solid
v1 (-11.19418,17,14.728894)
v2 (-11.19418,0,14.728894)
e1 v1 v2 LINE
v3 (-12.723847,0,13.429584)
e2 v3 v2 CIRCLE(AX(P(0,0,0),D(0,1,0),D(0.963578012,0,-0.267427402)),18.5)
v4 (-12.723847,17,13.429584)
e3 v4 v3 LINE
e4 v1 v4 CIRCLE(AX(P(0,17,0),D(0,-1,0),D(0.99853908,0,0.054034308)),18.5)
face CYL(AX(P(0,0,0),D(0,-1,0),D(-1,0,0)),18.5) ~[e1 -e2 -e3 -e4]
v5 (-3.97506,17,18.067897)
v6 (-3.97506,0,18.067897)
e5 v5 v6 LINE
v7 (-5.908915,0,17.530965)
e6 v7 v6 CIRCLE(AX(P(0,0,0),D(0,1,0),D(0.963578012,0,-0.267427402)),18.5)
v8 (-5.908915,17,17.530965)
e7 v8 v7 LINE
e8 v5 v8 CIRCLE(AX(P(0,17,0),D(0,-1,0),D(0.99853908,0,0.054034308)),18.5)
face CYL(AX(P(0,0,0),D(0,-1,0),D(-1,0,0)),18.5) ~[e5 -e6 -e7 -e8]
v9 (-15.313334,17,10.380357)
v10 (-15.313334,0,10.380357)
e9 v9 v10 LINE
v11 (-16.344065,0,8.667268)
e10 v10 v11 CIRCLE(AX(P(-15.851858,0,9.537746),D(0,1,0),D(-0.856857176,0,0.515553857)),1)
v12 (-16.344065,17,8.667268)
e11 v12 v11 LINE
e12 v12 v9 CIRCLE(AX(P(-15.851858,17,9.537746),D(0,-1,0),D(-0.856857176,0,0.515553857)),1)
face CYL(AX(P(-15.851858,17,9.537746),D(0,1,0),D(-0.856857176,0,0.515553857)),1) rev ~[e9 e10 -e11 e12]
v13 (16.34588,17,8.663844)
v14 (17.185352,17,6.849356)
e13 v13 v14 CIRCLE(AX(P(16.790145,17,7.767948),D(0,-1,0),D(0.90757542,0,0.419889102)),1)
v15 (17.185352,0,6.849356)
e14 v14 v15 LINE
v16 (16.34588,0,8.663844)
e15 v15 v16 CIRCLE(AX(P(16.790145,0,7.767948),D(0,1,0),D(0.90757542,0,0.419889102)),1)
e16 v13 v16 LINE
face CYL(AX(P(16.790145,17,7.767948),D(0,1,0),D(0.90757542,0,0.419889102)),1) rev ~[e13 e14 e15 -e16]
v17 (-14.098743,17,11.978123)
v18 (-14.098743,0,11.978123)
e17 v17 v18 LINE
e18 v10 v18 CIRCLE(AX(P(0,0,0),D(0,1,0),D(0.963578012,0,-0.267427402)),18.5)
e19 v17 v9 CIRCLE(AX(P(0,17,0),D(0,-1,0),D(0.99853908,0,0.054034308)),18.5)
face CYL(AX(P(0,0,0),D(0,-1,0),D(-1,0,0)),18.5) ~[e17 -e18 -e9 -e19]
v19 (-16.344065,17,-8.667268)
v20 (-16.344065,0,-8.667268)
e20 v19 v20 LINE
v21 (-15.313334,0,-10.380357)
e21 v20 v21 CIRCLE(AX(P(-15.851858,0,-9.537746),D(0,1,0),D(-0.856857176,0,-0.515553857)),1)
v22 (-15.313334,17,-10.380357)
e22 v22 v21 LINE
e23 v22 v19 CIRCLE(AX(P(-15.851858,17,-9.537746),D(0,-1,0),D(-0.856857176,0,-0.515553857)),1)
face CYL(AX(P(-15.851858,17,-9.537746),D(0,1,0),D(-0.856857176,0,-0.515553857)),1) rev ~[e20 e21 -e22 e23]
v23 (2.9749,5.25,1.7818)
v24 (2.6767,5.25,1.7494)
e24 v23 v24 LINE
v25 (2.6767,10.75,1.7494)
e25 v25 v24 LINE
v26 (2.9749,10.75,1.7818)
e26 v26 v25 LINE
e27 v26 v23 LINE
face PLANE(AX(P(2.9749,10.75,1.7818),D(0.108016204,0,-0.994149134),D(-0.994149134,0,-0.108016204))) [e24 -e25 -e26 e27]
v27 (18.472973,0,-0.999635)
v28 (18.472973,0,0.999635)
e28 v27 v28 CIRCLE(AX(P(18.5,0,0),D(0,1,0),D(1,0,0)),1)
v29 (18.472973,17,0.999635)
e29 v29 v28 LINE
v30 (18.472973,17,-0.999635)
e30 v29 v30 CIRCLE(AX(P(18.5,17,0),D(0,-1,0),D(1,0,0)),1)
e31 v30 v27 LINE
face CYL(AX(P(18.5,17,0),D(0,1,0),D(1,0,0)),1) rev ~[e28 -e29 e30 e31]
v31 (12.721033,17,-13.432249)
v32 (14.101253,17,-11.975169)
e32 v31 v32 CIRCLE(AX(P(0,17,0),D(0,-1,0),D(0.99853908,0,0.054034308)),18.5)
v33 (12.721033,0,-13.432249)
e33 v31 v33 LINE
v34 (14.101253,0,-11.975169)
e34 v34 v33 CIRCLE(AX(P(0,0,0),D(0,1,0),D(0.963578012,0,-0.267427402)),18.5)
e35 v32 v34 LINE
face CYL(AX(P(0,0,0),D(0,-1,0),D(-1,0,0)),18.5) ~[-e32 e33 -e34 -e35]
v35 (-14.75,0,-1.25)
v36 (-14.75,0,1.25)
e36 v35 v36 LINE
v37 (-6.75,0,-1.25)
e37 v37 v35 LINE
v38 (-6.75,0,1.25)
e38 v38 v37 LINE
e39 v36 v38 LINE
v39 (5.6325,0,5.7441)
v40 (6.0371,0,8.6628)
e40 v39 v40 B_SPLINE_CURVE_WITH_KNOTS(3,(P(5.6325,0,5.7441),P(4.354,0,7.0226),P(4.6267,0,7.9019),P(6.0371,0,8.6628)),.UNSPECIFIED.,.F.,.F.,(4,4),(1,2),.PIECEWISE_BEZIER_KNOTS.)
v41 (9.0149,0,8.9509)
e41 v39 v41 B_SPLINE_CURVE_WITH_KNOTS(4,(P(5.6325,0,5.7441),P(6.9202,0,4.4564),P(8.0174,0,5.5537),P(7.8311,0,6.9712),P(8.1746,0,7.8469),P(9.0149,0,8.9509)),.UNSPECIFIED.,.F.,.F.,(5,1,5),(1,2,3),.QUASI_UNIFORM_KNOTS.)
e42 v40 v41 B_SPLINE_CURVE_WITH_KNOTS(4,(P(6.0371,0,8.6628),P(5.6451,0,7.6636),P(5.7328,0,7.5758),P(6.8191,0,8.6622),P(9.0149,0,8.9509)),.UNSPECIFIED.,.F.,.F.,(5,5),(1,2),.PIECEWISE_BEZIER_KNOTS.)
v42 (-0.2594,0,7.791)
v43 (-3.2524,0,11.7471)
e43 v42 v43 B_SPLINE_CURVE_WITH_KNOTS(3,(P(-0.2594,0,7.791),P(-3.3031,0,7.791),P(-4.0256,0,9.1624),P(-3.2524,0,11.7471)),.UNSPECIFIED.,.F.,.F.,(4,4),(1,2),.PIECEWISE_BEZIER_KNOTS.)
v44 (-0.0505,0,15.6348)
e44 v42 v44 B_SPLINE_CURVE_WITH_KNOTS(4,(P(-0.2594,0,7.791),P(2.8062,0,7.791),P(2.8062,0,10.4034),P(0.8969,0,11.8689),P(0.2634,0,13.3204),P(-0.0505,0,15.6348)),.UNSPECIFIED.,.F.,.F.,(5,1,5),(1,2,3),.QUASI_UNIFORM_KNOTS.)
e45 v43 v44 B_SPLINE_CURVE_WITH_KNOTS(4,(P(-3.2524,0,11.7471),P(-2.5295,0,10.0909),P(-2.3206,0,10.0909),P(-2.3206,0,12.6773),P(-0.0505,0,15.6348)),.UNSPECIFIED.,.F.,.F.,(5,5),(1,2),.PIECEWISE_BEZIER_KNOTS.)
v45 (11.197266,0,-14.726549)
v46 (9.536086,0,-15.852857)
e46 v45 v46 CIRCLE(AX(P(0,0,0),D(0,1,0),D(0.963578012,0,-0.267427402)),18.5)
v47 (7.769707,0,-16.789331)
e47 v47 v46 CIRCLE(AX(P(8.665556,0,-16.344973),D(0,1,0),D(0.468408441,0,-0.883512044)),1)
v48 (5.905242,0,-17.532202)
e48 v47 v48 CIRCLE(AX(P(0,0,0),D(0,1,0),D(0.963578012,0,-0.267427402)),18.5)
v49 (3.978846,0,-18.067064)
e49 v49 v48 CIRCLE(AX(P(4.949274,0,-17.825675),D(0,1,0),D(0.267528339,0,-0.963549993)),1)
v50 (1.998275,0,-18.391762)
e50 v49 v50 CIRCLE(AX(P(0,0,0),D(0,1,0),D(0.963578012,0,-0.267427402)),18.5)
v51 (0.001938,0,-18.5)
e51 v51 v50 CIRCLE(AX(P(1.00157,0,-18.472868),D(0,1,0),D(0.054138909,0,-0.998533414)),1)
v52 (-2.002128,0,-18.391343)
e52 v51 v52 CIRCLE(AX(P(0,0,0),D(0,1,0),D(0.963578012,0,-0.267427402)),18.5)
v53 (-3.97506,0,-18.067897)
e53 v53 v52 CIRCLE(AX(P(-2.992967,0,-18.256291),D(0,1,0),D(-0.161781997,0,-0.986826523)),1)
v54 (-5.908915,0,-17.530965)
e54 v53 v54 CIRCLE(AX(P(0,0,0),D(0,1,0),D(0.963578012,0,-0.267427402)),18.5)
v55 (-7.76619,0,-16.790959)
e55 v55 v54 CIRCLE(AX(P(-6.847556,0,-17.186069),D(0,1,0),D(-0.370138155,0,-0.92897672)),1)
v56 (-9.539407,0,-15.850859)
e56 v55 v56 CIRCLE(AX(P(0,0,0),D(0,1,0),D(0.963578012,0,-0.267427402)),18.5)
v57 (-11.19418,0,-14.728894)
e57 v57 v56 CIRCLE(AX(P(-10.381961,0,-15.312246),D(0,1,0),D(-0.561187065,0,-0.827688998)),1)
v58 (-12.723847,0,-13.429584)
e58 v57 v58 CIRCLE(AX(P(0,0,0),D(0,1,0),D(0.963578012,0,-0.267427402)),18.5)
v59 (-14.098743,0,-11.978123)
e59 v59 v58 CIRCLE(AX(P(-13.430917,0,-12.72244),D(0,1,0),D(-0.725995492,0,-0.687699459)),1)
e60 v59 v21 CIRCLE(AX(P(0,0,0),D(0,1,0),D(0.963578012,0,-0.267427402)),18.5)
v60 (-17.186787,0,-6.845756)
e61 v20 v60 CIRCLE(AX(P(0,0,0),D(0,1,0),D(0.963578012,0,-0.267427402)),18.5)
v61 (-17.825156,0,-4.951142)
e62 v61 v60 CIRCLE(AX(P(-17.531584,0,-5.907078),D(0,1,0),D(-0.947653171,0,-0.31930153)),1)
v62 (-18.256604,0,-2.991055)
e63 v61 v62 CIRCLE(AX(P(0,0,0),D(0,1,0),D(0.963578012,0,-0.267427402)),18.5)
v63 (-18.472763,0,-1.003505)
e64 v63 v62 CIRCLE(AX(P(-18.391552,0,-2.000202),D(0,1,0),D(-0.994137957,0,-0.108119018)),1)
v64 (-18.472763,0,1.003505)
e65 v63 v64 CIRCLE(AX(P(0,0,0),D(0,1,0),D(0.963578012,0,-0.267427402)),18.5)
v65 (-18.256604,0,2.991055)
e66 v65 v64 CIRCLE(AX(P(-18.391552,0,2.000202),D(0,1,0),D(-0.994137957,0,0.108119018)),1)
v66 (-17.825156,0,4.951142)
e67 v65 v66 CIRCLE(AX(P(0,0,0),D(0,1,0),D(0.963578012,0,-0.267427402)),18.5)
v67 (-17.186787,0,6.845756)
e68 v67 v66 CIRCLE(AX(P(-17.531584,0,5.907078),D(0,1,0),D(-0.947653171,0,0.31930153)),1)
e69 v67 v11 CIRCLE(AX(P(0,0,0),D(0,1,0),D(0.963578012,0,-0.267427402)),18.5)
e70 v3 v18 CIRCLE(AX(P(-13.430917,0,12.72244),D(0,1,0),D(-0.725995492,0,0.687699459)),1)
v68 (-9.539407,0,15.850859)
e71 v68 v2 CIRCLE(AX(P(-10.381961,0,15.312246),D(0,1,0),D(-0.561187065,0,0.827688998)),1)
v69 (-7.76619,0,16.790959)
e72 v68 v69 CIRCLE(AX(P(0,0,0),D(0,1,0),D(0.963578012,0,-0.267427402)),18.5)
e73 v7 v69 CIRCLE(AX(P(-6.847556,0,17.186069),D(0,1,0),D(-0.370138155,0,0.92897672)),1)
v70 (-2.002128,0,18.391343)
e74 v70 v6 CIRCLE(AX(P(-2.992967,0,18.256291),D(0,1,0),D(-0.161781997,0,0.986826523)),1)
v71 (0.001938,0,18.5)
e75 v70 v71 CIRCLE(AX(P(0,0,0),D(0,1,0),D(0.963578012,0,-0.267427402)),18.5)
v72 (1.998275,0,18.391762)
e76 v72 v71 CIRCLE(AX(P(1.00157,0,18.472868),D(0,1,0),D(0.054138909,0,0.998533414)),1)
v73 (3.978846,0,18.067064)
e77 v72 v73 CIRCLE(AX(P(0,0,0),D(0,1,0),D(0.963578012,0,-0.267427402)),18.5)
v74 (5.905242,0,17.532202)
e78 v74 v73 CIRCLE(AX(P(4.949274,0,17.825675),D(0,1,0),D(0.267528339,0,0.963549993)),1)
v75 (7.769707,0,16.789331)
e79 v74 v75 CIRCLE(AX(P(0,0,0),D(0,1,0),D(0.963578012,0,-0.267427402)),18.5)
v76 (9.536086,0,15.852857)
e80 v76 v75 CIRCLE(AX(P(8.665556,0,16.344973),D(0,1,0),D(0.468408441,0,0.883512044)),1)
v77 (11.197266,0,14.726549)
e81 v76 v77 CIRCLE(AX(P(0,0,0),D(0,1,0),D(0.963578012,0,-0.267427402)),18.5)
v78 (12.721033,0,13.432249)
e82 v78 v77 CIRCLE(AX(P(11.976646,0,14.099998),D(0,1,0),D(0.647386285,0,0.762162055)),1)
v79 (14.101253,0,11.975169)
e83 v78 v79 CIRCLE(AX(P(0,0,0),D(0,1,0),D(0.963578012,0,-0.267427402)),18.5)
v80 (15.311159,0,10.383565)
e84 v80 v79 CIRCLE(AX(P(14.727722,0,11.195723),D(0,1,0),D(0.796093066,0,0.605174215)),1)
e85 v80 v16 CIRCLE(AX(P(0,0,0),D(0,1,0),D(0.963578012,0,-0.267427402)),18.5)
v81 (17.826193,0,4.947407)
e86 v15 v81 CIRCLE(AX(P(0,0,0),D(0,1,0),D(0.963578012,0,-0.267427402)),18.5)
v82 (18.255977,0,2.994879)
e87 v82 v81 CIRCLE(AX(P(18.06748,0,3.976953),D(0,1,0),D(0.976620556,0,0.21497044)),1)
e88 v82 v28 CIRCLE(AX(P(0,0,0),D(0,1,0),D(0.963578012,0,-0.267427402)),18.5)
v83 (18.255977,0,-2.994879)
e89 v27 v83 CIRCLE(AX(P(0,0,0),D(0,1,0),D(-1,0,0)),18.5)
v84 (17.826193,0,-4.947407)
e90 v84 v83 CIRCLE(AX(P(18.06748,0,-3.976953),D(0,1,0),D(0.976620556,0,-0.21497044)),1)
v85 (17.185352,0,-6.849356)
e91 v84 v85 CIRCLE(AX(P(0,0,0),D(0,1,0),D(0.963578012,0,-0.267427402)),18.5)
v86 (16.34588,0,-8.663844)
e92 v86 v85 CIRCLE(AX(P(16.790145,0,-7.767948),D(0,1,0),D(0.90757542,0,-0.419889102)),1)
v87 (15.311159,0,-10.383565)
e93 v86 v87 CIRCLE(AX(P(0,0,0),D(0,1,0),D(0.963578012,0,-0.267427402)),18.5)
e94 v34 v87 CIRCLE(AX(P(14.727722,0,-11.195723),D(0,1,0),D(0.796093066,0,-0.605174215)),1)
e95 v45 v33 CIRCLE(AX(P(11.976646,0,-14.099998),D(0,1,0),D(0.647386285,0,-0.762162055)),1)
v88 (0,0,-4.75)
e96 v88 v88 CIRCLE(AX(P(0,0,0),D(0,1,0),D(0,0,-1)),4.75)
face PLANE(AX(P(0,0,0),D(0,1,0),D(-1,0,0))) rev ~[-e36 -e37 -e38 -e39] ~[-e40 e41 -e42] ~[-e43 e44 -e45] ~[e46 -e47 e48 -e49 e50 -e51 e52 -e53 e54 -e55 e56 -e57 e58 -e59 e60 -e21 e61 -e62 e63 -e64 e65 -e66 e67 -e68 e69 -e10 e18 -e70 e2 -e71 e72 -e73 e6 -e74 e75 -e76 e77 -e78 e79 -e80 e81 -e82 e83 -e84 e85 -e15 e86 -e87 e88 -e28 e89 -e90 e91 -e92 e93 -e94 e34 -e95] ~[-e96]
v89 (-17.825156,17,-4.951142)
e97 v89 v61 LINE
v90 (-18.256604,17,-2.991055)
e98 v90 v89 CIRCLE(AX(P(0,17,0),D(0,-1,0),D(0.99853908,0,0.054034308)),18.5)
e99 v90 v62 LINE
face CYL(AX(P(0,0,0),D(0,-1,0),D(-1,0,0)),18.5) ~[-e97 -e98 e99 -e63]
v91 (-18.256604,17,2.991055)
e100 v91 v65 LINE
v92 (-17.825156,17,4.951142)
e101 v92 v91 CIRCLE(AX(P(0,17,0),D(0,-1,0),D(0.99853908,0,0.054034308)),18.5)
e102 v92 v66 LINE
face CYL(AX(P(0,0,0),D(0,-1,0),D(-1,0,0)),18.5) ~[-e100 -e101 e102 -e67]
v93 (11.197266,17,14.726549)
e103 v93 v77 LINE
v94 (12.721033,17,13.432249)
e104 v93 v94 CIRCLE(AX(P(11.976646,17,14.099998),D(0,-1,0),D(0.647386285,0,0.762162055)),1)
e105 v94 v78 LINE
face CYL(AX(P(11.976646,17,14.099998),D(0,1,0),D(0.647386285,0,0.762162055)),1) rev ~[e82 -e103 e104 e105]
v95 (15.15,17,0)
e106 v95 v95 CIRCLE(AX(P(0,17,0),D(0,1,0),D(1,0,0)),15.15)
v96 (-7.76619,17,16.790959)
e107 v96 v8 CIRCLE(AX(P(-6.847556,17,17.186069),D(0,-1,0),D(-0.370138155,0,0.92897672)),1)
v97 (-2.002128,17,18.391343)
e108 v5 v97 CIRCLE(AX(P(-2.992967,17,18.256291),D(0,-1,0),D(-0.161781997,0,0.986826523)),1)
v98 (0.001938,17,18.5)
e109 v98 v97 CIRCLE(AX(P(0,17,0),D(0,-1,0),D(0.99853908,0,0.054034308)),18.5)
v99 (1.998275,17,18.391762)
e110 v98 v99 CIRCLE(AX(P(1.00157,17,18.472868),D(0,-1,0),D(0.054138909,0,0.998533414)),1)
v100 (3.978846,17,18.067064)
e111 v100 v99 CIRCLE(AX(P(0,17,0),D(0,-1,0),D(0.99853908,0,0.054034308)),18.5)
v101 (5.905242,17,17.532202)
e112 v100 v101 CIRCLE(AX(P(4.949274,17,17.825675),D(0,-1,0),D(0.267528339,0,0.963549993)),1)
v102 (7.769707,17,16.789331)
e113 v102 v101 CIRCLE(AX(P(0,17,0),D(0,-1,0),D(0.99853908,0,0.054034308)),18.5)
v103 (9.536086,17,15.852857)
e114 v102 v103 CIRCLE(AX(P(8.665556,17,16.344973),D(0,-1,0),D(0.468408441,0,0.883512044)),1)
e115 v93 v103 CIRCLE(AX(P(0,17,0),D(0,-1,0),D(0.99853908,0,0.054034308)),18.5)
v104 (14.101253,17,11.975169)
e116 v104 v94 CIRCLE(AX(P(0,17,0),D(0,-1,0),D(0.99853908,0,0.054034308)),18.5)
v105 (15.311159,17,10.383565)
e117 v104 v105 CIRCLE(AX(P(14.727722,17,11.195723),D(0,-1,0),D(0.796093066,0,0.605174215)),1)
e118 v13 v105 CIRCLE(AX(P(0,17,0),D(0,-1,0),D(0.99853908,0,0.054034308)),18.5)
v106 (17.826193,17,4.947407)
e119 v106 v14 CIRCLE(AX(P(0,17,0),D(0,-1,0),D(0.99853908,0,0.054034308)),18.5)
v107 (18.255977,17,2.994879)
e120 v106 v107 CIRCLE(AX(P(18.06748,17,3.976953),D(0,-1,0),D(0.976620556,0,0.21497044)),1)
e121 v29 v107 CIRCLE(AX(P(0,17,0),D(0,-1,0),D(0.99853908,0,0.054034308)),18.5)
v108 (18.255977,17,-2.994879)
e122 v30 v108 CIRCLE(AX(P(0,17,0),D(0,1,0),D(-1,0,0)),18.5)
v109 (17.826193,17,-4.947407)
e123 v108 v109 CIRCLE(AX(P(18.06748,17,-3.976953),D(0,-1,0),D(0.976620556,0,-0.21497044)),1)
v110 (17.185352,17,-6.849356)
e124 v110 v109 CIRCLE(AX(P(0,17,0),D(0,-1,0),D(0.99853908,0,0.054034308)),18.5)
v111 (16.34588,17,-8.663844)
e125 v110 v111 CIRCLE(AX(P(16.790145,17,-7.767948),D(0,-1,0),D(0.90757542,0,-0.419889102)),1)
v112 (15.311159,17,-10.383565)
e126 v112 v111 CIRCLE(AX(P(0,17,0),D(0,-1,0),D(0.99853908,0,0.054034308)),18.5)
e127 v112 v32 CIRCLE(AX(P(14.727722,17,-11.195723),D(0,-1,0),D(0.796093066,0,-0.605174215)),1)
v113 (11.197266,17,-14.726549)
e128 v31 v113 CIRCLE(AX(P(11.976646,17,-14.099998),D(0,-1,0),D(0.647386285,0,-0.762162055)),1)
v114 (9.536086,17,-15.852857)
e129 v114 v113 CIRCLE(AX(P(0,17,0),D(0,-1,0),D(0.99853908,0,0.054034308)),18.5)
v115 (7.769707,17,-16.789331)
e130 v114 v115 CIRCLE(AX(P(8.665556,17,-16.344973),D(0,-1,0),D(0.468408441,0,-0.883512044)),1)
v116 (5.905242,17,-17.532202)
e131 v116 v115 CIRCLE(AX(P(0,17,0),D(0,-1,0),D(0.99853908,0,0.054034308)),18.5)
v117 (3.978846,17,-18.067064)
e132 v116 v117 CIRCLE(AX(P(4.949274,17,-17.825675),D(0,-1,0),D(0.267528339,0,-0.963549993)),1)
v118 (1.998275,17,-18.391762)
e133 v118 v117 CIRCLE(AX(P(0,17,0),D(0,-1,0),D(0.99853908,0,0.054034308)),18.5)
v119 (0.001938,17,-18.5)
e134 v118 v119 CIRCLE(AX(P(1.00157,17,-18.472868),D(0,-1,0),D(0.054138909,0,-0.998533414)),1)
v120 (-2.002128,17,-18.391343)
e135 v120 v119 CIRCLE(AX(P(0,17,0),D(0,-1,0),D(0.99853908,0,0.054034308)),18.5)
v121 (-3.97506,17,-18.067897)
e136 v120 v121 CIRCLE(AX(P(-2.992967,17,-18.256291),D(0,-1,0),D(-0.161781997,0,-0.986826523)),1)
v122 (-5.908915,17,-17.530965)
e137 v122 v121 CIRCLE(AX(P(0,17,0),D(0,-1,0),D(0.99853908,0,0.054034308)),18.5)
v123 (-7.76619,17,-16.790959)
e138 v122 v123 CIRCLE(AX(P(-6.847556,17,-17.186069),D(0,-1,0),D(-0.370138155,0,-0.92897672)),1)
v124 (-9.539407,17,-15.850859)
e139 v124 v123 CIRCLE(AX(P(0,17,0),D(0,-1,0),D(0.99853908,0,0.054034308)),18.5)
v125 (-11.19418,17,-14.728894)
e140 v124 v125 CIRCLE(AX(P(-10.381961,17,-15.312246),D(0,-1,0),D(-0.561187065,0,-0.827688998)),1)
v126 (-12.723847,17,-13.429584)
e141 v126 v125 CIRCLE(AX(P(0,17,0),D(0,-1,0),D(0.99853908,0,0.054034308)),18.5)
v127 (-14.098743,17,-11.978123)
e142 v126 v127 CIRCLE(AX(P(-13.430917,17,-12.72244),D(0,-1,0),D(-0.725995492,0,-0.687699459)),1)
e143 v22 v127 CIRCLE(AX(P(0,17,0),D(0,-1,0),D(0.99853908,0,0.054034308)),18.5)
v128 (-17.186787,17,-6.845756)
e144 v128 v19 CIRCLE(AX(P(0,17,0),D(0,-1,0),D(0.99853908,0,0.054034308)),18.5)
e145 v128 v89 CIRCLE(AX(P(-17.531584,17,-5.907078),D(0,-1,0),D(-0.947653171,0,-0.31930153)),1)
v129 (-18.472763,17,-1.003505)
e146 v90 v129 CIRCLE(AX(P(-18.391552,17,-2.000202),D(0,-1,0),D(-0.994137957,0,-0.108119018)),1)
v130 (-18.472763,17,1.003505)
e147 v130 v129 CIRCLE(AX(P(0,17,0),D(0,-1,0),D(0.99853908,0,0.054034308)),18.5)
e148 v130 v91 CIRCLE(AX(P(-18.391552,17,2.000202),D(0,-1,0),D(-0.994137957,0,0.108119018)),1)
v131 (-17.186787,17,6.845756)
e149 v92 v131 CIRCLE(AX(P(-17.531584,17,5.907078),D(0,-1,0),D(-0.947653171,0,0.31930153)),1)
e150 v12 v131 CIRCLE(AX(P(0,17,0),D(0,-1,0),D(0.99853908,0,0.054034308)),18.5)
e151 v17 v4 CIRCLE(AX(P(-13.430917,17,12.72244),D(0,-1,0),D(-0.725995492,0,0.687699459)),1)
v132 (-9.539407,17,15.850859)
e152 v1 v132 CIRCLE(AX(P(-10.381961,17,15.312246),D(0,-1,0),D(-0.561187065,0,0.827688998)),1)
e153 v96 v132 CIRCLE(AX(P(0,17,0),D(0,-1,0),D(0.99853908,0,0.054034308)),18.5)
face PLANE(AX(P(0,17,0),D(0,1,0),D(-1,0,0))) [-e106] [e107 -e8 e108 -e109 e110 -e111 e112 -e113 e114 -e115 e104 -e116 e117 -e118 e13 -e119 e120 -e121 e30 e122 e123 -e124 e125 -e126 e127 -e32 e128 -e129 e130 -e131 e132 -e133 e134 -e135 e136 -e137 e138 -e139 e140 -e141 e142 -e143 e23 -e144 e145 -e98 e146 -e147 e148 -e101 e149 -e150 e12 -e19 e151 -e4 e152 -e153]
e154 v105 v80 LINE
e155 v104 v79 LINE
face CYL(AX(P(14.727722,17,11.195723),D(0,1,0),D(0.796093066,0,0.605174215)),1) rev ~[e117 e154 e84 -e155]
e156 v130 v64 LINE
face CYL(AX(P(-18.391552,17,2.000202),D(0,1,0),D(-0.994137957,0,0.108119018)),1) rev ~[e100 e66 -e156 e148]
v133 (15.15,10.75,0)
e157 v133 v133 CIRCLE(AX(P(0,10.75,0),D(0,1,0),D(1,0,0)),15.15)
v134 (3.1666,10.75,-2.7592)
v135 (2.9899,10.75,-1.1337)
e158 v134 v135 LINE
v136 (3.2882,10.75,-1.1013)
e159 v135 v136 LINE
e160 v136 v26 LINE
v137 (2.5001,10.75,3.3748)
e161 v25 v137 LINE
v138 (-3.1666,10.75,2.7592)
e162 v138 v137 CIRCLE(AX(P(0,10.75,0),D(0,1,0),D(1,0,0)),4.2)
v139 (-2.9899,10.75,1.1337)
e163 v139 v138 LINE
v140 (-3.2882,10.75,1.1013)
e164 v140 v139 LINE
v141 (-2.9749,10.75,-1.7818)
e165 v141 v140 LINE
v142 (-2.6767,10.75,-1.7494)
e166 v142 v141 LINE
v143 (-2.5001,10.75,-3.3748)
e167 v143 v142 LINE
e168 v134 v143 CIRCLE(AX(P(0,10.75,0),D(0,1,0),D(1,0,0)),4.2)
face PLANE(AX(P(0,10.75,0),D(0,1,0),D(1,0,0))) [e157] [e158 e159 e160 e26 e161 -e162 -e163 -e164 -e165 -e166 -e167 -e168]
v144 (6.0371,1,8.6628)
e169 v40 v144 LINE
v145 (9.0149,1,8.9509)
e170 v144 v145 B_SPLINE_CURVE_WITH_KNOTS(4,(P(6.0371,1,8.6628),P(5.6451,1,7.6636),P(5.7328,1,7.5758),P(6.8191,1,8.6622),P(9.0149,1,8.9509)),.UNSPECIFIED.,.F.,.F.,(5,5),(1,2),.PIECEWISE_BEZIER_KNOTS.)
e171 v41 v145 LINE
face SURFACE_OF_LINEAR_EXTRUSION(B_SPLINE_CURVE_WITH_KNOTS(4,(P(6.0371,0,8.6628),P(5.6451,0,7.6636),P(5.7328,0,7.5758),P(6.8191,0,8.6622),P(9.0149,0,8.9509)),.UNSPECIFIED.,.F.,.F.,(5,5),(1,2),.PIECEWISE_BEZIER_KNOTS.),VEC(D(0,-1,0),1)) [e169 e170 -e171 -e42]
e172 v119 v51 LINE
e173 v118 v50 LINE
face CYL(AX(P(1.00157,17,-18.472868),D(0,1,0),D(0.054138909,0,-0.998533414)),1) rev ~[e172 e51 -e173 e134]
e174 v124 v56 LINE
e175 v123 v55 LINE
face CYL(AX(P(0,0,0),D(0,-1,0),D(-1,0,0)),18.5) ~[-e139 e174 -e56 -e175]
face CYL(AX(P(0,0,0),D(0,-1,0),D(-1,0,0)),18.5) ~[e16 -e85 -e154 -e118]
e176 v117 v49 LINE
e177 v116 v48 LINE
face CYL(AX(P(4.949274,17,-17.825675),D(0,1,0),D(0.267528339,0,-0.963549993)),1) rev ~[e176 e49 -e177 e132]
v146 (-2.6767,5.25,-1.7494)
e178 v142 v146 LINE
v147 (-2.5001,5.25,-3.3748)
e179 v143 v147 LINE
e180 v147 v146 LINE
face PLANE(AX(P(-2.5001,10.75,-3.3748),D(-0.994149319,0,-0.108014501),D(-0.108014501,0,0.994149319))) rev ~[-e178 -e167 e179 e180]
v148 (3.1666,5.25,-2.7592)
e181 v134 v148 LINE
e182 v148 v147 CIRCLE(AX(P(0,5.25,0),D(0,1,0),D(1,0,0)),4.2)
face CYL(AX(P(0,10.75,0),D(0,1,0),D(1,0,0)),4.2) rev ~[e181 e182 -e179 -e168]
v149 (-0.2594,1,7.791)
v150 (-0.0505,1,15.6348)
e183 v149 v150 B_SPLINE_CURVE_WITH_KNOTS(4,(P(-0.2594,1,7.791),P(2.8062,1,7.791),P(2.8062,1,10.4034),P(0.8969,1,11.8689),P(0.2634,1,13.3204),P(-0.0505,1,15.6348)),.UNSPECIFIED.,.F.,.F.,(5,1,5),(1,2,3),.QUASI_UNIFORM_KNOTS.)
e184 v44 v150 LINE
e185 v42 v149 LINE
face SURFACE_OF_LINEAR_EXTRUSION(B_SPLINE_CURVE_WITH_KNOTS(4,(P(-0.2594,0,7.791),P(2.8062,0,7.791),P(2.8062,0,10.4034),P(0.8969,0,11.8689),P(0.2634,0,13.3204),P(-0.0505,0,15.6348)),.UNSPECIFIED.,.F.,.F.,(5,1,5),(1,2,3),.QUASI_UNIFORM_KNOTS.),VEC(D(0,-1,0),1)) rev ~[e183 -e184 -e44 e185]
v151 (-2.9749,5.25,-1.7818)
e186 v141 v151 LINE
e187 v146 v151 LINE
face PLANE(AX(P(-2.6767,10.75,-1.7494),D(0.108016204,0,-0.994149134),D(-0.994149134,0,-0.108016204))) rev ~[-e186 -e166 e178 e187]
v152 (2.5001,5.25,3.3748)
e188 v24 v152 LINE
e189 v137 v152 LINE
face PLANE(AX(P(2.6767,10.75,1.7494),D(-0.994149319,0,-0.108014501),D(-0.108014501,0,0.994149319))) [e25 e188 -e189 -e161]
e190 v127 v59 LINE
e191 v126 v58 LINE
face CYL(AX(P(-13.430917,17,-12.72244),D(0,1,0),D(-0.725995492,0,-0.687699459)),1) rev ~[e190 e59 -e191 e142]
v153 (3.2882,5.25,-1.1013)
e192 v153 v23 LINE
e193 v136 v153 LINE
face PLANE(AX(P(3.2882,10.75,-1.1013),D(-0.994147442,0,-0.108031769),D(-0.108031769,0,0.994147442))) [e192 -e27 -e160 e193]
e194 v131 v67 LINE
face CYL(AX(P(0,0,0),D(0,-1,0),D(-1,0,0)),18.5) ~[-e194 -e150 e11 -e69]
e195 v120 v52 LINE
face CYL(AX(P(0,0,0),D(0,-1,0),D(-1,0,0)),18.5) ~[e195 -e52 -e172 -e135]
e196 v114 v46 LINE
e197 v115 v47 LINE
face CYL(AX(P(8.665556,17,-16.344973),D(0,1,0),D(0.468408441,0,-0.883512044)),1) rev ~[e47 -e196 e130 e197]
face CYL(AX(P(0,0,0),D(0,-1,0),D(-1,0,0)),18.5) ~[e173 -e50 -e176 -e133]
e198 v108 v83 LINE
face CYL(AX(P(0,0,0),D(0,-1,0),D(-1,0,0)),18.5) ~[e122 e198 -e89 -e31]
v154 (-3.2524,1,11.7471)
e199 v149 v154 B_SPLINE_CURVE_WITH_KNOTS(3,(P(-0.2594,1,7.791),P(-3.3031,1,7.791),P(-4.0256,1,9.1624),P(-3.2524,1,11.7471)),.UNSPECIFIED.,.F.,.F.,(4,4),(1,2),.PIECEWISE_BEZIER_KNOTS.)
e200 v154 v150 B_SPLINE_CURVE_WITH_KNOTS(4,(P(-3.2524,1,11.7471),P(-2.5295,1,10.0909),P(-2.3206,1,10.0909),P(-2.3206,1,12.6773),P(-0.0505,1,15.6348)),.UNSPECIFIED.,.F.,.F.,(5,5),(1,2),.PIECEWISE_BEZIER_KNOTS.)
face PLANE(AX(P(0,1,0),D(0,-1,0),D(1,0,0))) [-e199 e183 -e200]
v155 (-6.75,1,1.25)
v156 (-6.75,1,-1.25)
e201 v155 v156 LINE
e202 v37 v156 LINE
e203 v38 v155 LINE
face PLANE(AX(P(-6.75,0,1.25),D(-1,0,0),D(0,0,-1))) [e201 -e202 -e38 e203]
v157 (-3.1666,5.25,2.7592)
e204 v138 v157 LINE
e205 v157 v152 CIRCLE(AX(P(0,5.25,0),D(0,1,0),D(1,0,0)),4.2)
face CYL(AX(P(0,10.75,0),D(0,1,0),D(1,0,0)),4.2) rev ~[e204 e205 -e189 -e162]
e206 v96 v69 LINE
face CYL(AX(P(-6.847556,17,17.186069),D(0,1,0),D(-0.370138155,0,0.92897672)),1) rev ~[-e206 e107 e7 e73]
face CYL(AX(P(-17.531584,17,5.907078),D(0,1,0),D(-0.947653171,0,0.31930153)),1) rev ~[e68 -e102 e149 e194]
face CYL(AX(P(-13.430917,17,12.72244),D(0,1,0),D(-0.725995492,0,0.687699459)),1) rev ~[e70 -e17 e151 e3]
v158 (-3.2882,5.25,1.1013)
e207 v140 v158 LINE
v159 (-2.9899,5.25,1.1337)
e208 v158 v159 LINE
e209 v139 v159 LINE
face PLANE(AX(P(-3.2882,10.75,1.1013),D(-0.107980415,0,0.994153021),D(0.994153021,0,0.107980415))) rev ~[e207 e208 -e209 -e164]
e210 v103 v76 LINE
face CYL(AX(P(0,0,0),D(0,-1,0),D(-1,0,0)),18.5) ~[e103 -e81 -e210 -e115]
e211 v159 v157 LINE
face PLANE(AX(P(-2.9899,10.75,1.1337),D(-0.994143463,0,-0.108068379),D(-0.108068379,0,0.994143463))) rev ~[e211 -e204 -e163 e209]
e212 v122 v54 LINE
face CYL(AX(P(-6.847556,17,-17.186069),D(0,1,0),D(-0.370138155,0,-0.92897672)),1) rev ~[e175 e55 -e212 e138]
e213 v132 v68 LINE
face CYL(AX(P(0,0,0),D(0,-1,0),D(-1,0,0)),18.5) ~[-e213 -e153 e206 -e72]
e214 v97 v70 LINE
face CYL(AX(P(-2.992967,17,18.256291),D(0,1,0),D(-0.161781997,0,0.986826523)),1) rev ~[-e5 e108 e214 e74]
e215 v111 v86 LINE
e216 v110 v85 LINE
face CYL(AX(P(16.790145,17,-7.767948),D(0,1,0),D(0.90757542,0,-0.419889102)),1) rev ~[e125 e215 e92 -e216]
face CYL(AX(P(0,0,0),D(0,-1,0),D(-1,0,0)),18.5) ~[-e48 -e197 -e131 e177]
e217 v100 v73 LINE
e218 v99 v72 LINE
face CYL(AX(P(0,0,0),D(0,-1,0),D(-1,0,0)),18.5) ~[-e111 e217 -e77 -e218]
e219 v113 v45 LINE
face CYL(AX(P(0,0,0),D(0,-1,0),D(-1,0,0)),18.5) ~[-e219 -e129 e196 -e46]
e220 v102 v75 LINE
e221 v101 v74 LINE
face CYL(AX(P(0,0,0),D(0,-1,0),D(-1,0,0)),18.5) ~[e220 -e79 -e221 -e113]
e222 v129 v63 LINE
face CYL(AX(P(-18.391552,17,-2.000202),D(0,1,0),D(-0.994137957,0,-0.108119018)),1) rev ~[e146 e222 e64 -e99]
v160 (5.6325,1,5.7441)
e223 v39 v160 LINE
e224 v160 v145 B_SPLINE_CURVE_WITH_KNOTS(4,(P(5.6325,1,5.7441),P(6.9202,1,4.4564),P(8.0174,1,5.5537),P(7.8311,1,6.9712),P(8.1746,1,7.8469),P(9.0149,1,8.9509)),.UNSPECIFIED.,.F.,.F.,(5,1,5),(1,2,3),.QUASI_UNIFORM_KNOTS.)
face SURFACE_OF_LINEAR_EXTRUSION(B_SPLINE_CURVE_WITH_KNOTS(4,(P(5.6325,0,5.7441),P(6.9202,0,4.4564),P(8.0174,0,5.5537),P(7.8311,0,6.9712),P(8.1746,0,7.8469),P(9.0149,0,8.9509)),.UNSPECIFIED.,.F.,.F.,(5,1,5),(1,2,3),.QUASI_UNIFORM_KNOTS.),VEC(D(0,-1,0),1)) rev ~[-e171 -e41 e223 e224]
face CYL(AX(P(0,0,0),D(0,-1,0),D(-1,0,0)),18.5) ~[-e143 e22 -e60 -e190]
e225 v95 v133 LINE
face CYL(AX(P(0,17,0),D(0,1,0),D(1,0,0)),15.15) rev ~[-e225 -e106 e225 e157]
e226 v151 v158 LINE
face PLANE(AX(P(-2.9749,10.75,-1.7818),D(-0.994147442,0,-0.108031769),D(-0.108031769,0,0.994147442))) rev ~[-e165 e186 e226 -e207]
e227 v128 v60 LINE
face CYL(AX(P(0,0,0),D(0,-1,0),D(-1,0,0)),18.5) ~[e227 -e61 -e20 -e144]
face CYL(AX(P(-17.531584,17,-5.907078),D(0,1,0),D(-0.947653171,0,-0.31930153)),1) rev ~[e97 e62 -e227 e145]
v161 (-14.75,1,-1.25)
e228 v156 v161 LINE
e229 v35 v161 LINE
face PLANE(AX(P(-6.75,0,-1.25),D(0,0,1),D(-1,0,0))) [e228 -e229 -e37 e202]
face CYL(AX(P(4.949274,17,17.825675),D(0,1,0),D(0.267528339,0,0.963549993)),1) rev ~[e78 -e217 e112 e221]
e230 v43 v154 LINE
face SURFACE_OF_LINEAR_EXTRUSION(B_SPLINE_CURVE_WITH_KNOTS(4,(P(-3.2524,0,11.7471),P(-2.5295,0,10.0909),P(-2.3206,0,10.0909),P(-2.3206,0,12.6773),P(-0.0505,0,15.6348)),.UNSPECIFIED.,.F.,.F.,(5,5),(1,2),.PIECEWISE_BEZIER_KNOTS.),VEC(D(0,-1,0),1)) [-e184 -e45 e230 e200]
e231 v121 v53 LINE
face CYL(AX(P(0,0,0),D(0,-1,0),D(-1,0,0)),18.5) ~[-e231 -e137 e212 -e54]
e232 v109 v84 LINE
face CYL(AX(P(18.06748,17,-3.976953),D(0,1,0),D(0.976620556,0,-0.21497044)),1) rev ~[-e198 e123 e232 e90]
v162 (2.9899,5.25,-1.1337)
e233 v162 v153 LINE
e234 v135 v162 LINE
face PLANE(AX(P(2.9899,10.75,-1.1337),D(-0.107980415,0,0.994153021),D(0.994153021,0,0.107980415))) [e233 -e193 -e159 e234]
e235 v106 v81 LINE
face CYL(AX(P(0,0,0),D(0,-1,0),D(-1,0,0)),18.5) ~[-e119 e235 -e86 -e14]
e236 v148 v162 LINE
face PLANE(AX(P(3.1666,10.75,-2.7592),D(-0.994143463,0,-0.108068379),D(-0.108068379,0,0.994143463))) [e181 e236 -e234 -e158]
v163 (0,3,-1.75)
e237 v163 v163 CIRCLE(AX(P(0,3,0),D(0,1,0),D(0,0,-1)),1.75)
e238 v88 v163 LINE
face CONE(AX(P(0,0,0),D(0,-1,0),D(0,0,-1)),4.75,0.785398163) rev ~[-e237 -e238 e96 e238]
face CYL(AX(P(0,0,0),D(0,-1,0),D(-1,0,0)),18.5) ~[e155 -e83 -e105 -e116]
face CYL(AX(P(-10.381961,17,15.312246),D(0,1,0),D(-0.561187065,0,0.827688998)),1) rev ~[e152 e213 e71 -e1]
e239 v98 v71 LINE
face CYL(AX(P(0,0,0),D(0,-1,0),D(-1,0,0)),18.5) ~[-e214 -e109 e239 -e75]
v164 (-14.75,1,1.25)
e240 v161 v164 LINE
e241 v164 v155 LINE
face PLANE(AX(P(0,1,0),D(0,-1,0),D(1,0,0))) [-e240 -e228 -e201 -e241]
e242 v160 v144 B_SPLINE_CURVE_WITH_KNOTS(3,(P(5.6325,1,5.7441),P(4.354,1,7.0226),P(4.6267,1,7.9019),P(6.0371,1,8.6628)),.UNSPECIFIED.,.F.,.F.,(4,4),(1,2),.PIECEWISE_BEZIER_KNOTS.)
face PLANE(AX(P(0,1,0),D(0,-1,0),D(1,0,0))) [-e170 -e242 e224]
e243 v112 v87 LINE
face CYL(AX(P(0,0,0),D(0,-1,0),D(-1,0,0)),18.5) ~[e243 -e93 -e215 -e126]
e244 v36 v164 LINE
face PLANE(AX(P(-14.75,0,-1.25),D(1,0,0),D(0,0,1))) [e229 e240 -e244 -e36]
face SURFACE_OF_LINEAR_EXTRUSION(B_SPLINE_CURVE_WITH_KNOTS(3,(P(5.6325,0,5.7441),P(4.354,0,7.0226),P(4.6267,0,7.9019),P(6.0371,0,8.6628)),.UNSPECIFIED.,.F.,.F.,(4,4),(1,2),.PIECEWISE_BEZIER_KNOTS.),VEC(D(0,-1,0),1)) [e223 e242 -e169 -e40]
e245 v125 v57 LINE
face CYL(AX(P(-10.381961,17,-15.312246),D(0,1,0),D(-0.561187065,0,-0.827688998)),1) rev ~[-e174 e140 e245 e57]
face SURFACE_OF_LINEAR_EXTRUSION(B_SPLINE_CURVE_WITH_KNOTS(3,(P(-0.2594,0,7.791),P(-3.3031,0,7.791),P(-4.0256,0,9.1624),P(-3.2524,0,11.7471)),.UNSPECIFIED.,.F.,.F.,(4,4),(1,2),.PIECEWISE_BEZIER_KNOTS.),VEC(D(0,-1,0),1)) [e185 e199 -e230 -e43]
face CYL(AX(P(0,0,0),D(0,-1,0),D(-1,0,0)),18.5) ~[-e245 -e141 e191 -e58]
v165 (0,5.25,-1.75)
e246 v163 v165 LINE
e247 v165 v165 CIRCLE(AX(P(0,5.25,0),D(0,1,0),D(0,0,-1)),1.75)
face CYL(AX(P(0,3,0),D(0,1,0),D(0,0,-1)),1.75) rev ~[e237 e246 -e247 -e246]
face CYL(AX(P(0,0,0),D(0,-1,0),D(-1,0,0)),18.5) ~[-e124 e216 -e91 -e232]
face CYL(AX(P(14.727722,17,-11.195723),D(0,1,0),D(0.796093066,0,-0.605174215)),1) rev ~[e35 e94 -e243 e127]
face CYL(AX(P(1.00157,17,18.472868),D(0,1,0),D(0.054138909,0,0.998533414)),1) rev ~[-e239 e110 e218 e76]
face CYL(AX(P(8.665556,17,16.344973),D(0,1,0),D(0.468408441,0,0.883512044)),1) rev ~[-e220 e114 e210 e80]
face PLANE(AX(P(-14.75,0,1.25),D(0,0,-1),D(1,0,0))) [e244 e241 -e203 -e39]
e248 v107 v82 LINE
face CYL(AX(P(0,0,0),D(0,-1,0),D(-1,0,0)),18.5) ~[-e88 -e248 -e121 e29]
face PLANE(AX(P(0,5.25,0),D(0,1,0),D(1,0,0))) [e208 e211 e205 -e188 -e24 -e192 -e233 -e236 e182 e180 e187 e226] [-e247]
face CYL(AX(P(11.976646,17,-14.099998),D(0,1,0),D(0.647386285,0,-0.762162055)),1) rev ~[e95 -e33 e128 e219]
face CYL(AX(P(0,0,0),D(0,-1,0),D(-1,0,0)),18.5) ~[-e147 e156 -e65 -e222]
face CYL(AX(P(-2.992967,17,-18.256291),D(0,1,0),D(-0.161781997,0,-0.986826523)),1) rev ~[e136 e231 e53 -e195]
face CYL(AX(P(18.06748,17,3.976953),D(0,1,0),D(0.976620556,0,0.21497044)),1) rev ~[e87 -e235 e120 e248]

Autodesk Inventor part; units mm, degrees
ref_plane "YZ Plane" through (0, 0, 0) normal (1, 0, 0) x (0, 1, 0)
ref_plane "XZ Plane" through (0, 0, 0) normal (0, 1, 0) x (-1, 0, 0)
ref_plane "XY Plane" through (0, 0, 0) normal (0, 0, 1) x (1, 0, 0)
sketch "Sketch1" plane through (0, 0, 0) normal (0, 1, 0) x (-1, 0, 0)
  circle A0 centre (0, 0) radius 18.5
  dimension "d0" = 37
extrude "Extrusion1" add sketch "Sketch1" along normal blind 17
sketch "Sketch2" plane through (0, 17, 0) normal (0, 1, 0) x (1, 0, 0)
  circle A0 centre (0, 0) radius 18.5 projected
  circle A1 centre (18.5, 0) radius 1
  line L0 (0, 0) -> (18.5, 0) construction
  dimension "d3" = 2
extrude "Extrusion2" cut sketch "Sketch2" against normal through all contours A0 A1 | A0 A1 picked at (18.1866, 0.2274) picked at (18.7982, 0.2581)
pattern_circular "Circular Pattern1" count 29 over 360 about axis through (0, 0, 0) along (0, 1, 0) of "Extrusion2"
sketch "Sketch3" plane through (0, 0, 0) normal (0, -1, 0) x (1, 0, 0)
  arc A0 (17.8262, 4.9474) -> (17.1854, 6.8494) centre (0, 0) ccw projected
hole "Hole1" at (0, 0, 0) direction (0, 1, 0) diameter 3.5 end through all countersink diameter 9.5 countersink angle 90
sketch "Sketch4" plane through (0, 0, 0) normal (0, -1, 0) x (1, 0, 0)
  circle A0 centre (0, 0) radius 4.75 projected
  arc A1 (-18.4728, 1.0035) -> (-18.4728, -1.0035) centre (0, 0) ccw projected
  arc A2 (18.473, 0.9996) -> (18.256, 2.9949) centre (0, 0) ccw projected
  line L0 (-14.75, 1.25) -> (-6.75, 1.25)
  line L1 (-6.75, 1.25) -> (-6.75, -1.25)
  line L2 (-6.75, -1.25) -> (-14.75, -1.25)
  line L3 (-14.75, -1.25) -> (-14.75, 1.25)
  line L4 (-18.5, 0) -> (0, 0) construction
  line L5 (-10.75, 1.25) -> (-10.75, 0) construction
  line L6 (-10.75, 0) -> (-10.75, -1.25) construction
  circle A3 centre (0, 0) radius 11.4692 construction
  line L7 (-0.2594, 7.791) -> (2.8062, 7.791) construction
  line L8 (2.8062, 7.791) -> (2.8062, 10.4034) construction
  line L9 (2.8062, 10.4034) -> (0.8969, 11.8689) construction
  line L10 (0.8969, 11.8689) -> (0.2634, 13.3204) construction
  line L11 (0.2634, 13.3204) -> (-0.0505, 15.6348) construction
  spline S0 degree 4 poles (-0.2594, 7.791) (2.8062, 7.791) (2.8062, 10.4034) (0.8969, 11.8689) (0.2634, 13.3204) (-0.0505, 15.6348) knots 1 1 1 1 1 2 3 3 3 3 3
  line L12 (-0.2594, 7.791) -> (-3.3031, 7.791) construction
  line L13 (-3.3031, 7.791) -> (-4.0256, 9.1624) construction
  line L14 (-4.0256, 9.1624) -> (-3.2524, 11.7471) construction
  spline S1 degree 3 poles (-0.2594, 7.791) (-3.3031, 7.791) (-4.0256, 9.1624) (-3.2524, 11.7471) knots 1 1 1 1 2 2 2 2
  line L15 (-3.2524, 11.7471) -> (-2.5295, 10.0909) construction
  line L16 (-2.5295, 10.0909) -> (-2.3206, 10.0909) construction
  line L17 (-2.3206, 10.0909) -> (-2.3206, 12.6773) construction
  line L18 (-2.3206, 12.6773) -> (-0.0505, 15.6348) construction
  spline S2 degree 4 poles (-3.2524, 11.7471) (-2.5295, 10.0909) (-2.3206, 10.0909) (-2.3206, 12.6773) (-0.0505, 15.6348) knots 1 1 1 1 1 2 2 2 2 2
  line L19 (5.6325, 5.7441) -> (6.9202, 4.4564) construction
  line L20 (6.9202, 4.4564) -> (8.0174, 5.5537) construction
  line L21 (8.0174, 5.5537) -> (7.8311, 6.9712) construction
  line L22 (7.8311, 6.9712) -> (8.1746, 7.8469) construction
  line L23 (8.1746, 7.8469) -> (9.0149, 8.9509) construction
  spline S3 degree 4 poles (5.6325, 5.7441) (6.9202, 4.4564) (8.0174, 5.5537) (7.8311, 6.9712) (8.1746, 7.8469) (9.0149, 8.9509) knots 1 1 1 1 1 2 3 3 3 3 3
  line L24 (5.6325, 5.7441) -> (4.354, 7.0226) construction
  line L25 (4.354, 7.0226) -> (4.6267, 7.9019) construction
  line L26 (4.6267, 7.9019) -> (6.0371, 8.6628) construction
  spline S4 degree 3 poles (5.6325, 5.7441) (4.354, 7.0226) (4.6267, 7.9019) (6.0371, 8.6628) knots 1 1 1 1 2 2 2 2
  line L27 (6.0371, 8.6628) -> (5.6451, 7.6636) construction
  line L28 (5.6451, 7.6636) -> (5.7328, 7.5758) construction
  line L29 (5.7328, 7.5758) -> (6.8191, 8.6622) construction
  line L30 (6.8191, 8.6622) -> (9.0149, 8.9509) construction
  spline S5 degree 4 poles (6.0371, 8.6628) (5.6451, 7.6636) (5.7328, 7.5758) (6.8191, 8.6622) (9.0149, 8.9509) knots 1 1 1 1 1 2 2 2 2 2
  arc A4 (18.256, -2.9949) -> (18.473, -0.9996) centre (0, 0) ccw projected
  line L31 (0, 0) -> (13.0815, 13.0815) construction
  line L32 (0, 0) -> (18.5, 0) construction
  dimension "d16" = 2.5
  dimension "d17" = 8
  dimension "d18" = 2
  dimension "d21" = 0.7224
  dimension "d23" = 2.5841
  dimension "d24" = 0.6335
  dimension "d25" = 1.9093
  dimension "d26" = 1.3714
  dimension "d27" = 0.9285
  dimension "d28" = 0.3125
  dimension "d30" = 0.8084
  dimension "d31" = 0.6431
  dimension "d32" = 2.3144
  dimension "d33" = 1.3437
  dimension "d34" = 0.1218
  dimension "d48" = 0.0508
  dimension "d50" = 0.2089
  dimension "d81" = 45
extrude "Extrusion3" cut sketch "Sketch4" against normal blind 1 contours L0 L1 L2 L3 | S1 S2 S0 | S4 S5 S3
sketch "Sketch5" plane through (0, 17, 0) normal (0, 1, 0) x (1, 0, 0)
  circle A0 centre (0, 0) radius 1.75 projected
  arc A1 (17.1854, -6.8494) -> (17.8262, -4.9474) centre (0, 0) ccw projected
  circle A2 centre (0, 0) radius 15.15
  dimension "d82" = 30.3
extrude "Extrusion4" cut sketch "Sketch5" against normal blind 6.25
sketch "Sketch6" plane through (0, 10.75, 0) normal (0, 1, 0) x (1, 0, 0)
  circle A0 centre (0, 0) radius 1.75 projected
  circle A1 centre (0, 0) radius 15.15 projected
  circle A2 centre (0, 0) radius 4.2
  line L0 (-2.5001, 3.3748) -> (-2.6767, 1.7494)
  line L1 (3.1666, 2.7592) -> (2.9899, 1.1337)
  line L2 (-2.5001, 3.3748) -> (3.1666, 2.7592) construction
  line L3 (-2.6767, 1.7494) -> (-2.9749, 1.7818)
  line L4 (-2.9749, 1.7818) -> (-3.2882, -1.1013)
  line L5 (-3.2882, -1.1013) -> (-2.9899, -1.1337)
  line L6 (-2.9899, -1.1337) -> (2.6767, -1.7494) construction
  line L7 (-2.6767, 1.7494) -> (2.9899, 1.1337) construction
  line L8 (2.9899, 1.1337) -> (3.2882, 1.1013)
  line L9 (3.2882, 1.1013) -> (2.9749, -1.7818)
  line L10 (2.9749, -1.7818) -> (2.6767, -1.7494)
  line L11 (-3.1316, 0.3402) -> (0, 0) construction
  line L12 (-2.9899, -1.1337) -> (-3.1666, -2.7592)
  line L13 (-2.6767, 1.7494) -> (-2.9899, -1.1337) construction
  line L14 (2.9899, 1.1337) -> (2.6767, -1.7494) construction
  line L15 (2.6767, -1.7494) -> (2.5001, -3.3748)
  circle A3 centre (0, 0) radius 15.15 construction
  arc A4 (18.256, -2.9949) -> (17.8262, -4.9474) centre (18.0675, -3.977) ccw construction
  arc A5 (18.256, -2.9949) -> (18.473, -0.9996) centre (0, 0) ccw construction
  arc A6 (18.473, 0.9996) -> (18.473, -0.9996) centre (18.5, 0) ccw construction
  arc A7 (18.473, 0.9996) -> (18.256, 2.9949) centre (0, 0) ccw construction
  arc A8 (17.8262, 4.9474) -> (18.256, 2.9949) centre (18.0675, 3.977) ccw construction
  arc A9 (17.8262, 4.9474) -> (17.1854, 6.8494) centre (0, 0) ccw construction
  arc A10 (16.3459, 8.6638) -> (17.1854, 6.8494) centre (16.7901, 7.7679) ccw construction
  arc A11 (16.3459, 8.6638) -> (15.3112, 10.3836) centre (0, 0) ccw construction
  arc A12 (14.1013, 11.9752) -> (15.3112, 10.3836) centre (14.7277, 11.1957) ccw construction
  arc A13 (14.1013, 11.9752) -> (12.721, 13.4322) centre (0, 0) ccw construction
  arc A14 (11.1973, 14.7265) -> (12.721, 13.4322) centre (11.9766, 14.1) ccw construction
  arc A15 (11.1973, 14.7265) -> (9.5361, 15.8529) centre (0, 0) ccw construction
  arc A16 (7.7697, 16.7893) -> (9.5361, 15.8529) centre (8.6656, 16.345) ccw construction
  arc A17 (7.7697, 16.7893) -> (5.9052, 17.5322) centre (0, 0) ccw construction
  arc A18 (3.9788, 18.0671) -> (5.9052, 17.5322) centre (4.9493, 17.8257) ccw construction
  arc A19 (3.9788, 18.0671) -> (1.9983, 18.3918) centre (0, 0) ccw construction
  arc A20 (0.0019, 18.5) -> (1.9983, 18.3918) centre (1.0016, 18.4729) ccw construction
  arc A21 (0.0019, 18.5) -> (-2.0021, 18.3913) centre (0, 0) ccw construction
  arc A22 (-3.9751, 18.0679) -> (-2.0021, 18.3913) centre (-2.993, 18.2563) ccw construction
  arc A23 (-3.9751, 18.0679) -> (-5.9089, 17.531) centre (0, 0) ccw construction
  arc A24 (-7.7662, 16.791) -> (-5.9089, 17.531) centre (-6.8476, 17.1861) ccw construction
  arc A25 (-7.7662, 16.791) -> (-9.5394, 15.8509) centre (0, 0) ccw construction
  arc A26 (-11.1942, 14.7289) -> (-9.5394, 15.8509) centre (-10.382, 15.3122) ccw construction
  arc A27 (-11.1942, 14.7289) -> (-12.7238, 13.4296) centre (0, 0) ccw construction
  arc A28 (-14.0987, 11.9781) -> (-12.7238, 13.4296) centre (-13.4309, 12.7224) ccw construction
  arc A29 (-14.0987, 11.9781) -> (-15.3133, 10.3804) centre (0, 0) ccw construction
  arc A30 (-16.3441, 8.6673) -> (-15.3133, 10.3804) centre (-15.8519, 9.5377) ccw construction
  arc A31 (-16.3441, 8.6673) -> (-17.1868, 6.8458) centre (0, 0) ccw construction
  arc A32 (-17.8252, 4.9511) -> (-17.1868, 6.8458) centre (-17.5316, 5.9071) ccw construction
  arc A33 (-17.8252, 4.9511) -> (-18.2566, 2.9911) centre (0, 0) ccw construction
  arc A34 (-18.4728, 1.0035) -> (-18.2566, 2.9911) centre (-18.3916, 2.0002) ccw construction
  arc A35 (-18.4728, 1.0035) -> (-18.4728, -1.0035) centre (0, 0) ccw construction
  arc A36 (-18.2566, -2.9911) -> (-18.4728, -1.0035) centre (-18.3916, -2.0002) ccw construction
  arc A37 (-18.2566, -2.9911) -> (-17.8252, -4.9511) centre (0, 0) ccw construction
  arc A38 (-17.1868, -6.8458) -> (-17.8252, -4.9511) centre (-17.5316, -5.9071) ccw construction
  arc A39 (-17.1868, -6.8458) -> (-16.3441, -8.6673) centre (0, 0) ccw construction
  arc A40 (-15.3133, -10.3804) -> (-16.3441, -8.6673) centre (-15.8519, -9.5377) ccw construction
  arc A41 (-15.3133, -10.3804) -> (-14.0987, -11.9781) centre (0, 0) ccw construction
  arc A42 (-12.7238, -13.4296) -> (-14.0987, -11.9781) centre (-13.4309, -12.7224) ccw construction
  arc A43 (-12.7238, -13.4296) -> (-11.1942, -14.7289) centre (0, 0) ccw construction
  arc A44 (-9.5394, -15.8509) -> (-11.1942, -14.7289) centre (-10.382, -15.3122) ccw construction
  arc A45 (-9.5394, -15.8509) -> (-7.7662, -16.791) centre (0, 0) ccw construction
  arc A46 (-5.9089, -17.531) -> (-7.7662, -16.791) centre (-6.8476, -17.1861) ccw construction
  arc A47 (-5.9089, -17.531) -> (-3.9751, -18.0679) centre (0, 0) ccw construction
  arc A48 (-2.0021, -18.3913) -> (-3.9751, -18.0679) centre (-2.993, -18.2563) ccw construction
  arc A49 (-2.0021, -18.3913) -> (0.0019, -18.5) centre (0, 0) ccw construction
  arc A50 (1.9983, -18.3918) -> (0.0019, -18.5) centre (1.0016, -18.4729) ccw construction
  arc A51 (1.9983, -18.3918) -> (3.9788, -18.0671) centre (0, 0) ccw construction
  arc A52 (5.9052, -17.5322) -> (3.9788, -18.0671) centre (4.9493, -17.8257) ccw construction
  arc A53 (5.9052, -17.5322) -> (7.7697, -16.7893) centre (0, 0) ccw construction
  arc A54 (9.5361, -15.8529) -> (7.7697, -16.7893) centre (8.6656, -16.345) ccw construction
  arc A55 (9.5361, -15.8529) -> (11.1973, -14.7265) centre (0, 0) ccw construction
  arc A56 (12.721, -13.4322) -> (11.1973, -14.7265) centre (11.9766, -14.1) ccw construction
  arc A57 (12.721, -13.4322) -> (14.1013, -11.9752) centre (0, 0) ccw construction
  arc A58 (15.3112, -10.3836) -> (14.1013, -11.9752) centre (14.7277, -11.1957) ccw construction
  arc A59 (15.3112, -10.3836) -> (16.3459, -8.6638) centre (0, 0) ccw construction
  arc A60 (17.1854, -6.8494) -> (16.3459, -8.6638) centre (16.7901, -7.7679) ccw construction
  arc A61 (17.1854, -6.8494) -> (17.8262, -4.9474) centre (0, 0) ccw construction
  line L16 (1.9983, 18.3918) -> (0, 0) construction
  dimension "d85" = 8.4
  dimension "d86" = 5.7
  dimension "d87" = 2.9
  dimension "d88" = 6.3
extrude "Extrusion5" cut sketch "Sketch6" against normal blind 5.5 contours L1 L8 L9 L10 L15 A2 L12 L5 L4 L3 L0
properties part number "Llave hornillo"
